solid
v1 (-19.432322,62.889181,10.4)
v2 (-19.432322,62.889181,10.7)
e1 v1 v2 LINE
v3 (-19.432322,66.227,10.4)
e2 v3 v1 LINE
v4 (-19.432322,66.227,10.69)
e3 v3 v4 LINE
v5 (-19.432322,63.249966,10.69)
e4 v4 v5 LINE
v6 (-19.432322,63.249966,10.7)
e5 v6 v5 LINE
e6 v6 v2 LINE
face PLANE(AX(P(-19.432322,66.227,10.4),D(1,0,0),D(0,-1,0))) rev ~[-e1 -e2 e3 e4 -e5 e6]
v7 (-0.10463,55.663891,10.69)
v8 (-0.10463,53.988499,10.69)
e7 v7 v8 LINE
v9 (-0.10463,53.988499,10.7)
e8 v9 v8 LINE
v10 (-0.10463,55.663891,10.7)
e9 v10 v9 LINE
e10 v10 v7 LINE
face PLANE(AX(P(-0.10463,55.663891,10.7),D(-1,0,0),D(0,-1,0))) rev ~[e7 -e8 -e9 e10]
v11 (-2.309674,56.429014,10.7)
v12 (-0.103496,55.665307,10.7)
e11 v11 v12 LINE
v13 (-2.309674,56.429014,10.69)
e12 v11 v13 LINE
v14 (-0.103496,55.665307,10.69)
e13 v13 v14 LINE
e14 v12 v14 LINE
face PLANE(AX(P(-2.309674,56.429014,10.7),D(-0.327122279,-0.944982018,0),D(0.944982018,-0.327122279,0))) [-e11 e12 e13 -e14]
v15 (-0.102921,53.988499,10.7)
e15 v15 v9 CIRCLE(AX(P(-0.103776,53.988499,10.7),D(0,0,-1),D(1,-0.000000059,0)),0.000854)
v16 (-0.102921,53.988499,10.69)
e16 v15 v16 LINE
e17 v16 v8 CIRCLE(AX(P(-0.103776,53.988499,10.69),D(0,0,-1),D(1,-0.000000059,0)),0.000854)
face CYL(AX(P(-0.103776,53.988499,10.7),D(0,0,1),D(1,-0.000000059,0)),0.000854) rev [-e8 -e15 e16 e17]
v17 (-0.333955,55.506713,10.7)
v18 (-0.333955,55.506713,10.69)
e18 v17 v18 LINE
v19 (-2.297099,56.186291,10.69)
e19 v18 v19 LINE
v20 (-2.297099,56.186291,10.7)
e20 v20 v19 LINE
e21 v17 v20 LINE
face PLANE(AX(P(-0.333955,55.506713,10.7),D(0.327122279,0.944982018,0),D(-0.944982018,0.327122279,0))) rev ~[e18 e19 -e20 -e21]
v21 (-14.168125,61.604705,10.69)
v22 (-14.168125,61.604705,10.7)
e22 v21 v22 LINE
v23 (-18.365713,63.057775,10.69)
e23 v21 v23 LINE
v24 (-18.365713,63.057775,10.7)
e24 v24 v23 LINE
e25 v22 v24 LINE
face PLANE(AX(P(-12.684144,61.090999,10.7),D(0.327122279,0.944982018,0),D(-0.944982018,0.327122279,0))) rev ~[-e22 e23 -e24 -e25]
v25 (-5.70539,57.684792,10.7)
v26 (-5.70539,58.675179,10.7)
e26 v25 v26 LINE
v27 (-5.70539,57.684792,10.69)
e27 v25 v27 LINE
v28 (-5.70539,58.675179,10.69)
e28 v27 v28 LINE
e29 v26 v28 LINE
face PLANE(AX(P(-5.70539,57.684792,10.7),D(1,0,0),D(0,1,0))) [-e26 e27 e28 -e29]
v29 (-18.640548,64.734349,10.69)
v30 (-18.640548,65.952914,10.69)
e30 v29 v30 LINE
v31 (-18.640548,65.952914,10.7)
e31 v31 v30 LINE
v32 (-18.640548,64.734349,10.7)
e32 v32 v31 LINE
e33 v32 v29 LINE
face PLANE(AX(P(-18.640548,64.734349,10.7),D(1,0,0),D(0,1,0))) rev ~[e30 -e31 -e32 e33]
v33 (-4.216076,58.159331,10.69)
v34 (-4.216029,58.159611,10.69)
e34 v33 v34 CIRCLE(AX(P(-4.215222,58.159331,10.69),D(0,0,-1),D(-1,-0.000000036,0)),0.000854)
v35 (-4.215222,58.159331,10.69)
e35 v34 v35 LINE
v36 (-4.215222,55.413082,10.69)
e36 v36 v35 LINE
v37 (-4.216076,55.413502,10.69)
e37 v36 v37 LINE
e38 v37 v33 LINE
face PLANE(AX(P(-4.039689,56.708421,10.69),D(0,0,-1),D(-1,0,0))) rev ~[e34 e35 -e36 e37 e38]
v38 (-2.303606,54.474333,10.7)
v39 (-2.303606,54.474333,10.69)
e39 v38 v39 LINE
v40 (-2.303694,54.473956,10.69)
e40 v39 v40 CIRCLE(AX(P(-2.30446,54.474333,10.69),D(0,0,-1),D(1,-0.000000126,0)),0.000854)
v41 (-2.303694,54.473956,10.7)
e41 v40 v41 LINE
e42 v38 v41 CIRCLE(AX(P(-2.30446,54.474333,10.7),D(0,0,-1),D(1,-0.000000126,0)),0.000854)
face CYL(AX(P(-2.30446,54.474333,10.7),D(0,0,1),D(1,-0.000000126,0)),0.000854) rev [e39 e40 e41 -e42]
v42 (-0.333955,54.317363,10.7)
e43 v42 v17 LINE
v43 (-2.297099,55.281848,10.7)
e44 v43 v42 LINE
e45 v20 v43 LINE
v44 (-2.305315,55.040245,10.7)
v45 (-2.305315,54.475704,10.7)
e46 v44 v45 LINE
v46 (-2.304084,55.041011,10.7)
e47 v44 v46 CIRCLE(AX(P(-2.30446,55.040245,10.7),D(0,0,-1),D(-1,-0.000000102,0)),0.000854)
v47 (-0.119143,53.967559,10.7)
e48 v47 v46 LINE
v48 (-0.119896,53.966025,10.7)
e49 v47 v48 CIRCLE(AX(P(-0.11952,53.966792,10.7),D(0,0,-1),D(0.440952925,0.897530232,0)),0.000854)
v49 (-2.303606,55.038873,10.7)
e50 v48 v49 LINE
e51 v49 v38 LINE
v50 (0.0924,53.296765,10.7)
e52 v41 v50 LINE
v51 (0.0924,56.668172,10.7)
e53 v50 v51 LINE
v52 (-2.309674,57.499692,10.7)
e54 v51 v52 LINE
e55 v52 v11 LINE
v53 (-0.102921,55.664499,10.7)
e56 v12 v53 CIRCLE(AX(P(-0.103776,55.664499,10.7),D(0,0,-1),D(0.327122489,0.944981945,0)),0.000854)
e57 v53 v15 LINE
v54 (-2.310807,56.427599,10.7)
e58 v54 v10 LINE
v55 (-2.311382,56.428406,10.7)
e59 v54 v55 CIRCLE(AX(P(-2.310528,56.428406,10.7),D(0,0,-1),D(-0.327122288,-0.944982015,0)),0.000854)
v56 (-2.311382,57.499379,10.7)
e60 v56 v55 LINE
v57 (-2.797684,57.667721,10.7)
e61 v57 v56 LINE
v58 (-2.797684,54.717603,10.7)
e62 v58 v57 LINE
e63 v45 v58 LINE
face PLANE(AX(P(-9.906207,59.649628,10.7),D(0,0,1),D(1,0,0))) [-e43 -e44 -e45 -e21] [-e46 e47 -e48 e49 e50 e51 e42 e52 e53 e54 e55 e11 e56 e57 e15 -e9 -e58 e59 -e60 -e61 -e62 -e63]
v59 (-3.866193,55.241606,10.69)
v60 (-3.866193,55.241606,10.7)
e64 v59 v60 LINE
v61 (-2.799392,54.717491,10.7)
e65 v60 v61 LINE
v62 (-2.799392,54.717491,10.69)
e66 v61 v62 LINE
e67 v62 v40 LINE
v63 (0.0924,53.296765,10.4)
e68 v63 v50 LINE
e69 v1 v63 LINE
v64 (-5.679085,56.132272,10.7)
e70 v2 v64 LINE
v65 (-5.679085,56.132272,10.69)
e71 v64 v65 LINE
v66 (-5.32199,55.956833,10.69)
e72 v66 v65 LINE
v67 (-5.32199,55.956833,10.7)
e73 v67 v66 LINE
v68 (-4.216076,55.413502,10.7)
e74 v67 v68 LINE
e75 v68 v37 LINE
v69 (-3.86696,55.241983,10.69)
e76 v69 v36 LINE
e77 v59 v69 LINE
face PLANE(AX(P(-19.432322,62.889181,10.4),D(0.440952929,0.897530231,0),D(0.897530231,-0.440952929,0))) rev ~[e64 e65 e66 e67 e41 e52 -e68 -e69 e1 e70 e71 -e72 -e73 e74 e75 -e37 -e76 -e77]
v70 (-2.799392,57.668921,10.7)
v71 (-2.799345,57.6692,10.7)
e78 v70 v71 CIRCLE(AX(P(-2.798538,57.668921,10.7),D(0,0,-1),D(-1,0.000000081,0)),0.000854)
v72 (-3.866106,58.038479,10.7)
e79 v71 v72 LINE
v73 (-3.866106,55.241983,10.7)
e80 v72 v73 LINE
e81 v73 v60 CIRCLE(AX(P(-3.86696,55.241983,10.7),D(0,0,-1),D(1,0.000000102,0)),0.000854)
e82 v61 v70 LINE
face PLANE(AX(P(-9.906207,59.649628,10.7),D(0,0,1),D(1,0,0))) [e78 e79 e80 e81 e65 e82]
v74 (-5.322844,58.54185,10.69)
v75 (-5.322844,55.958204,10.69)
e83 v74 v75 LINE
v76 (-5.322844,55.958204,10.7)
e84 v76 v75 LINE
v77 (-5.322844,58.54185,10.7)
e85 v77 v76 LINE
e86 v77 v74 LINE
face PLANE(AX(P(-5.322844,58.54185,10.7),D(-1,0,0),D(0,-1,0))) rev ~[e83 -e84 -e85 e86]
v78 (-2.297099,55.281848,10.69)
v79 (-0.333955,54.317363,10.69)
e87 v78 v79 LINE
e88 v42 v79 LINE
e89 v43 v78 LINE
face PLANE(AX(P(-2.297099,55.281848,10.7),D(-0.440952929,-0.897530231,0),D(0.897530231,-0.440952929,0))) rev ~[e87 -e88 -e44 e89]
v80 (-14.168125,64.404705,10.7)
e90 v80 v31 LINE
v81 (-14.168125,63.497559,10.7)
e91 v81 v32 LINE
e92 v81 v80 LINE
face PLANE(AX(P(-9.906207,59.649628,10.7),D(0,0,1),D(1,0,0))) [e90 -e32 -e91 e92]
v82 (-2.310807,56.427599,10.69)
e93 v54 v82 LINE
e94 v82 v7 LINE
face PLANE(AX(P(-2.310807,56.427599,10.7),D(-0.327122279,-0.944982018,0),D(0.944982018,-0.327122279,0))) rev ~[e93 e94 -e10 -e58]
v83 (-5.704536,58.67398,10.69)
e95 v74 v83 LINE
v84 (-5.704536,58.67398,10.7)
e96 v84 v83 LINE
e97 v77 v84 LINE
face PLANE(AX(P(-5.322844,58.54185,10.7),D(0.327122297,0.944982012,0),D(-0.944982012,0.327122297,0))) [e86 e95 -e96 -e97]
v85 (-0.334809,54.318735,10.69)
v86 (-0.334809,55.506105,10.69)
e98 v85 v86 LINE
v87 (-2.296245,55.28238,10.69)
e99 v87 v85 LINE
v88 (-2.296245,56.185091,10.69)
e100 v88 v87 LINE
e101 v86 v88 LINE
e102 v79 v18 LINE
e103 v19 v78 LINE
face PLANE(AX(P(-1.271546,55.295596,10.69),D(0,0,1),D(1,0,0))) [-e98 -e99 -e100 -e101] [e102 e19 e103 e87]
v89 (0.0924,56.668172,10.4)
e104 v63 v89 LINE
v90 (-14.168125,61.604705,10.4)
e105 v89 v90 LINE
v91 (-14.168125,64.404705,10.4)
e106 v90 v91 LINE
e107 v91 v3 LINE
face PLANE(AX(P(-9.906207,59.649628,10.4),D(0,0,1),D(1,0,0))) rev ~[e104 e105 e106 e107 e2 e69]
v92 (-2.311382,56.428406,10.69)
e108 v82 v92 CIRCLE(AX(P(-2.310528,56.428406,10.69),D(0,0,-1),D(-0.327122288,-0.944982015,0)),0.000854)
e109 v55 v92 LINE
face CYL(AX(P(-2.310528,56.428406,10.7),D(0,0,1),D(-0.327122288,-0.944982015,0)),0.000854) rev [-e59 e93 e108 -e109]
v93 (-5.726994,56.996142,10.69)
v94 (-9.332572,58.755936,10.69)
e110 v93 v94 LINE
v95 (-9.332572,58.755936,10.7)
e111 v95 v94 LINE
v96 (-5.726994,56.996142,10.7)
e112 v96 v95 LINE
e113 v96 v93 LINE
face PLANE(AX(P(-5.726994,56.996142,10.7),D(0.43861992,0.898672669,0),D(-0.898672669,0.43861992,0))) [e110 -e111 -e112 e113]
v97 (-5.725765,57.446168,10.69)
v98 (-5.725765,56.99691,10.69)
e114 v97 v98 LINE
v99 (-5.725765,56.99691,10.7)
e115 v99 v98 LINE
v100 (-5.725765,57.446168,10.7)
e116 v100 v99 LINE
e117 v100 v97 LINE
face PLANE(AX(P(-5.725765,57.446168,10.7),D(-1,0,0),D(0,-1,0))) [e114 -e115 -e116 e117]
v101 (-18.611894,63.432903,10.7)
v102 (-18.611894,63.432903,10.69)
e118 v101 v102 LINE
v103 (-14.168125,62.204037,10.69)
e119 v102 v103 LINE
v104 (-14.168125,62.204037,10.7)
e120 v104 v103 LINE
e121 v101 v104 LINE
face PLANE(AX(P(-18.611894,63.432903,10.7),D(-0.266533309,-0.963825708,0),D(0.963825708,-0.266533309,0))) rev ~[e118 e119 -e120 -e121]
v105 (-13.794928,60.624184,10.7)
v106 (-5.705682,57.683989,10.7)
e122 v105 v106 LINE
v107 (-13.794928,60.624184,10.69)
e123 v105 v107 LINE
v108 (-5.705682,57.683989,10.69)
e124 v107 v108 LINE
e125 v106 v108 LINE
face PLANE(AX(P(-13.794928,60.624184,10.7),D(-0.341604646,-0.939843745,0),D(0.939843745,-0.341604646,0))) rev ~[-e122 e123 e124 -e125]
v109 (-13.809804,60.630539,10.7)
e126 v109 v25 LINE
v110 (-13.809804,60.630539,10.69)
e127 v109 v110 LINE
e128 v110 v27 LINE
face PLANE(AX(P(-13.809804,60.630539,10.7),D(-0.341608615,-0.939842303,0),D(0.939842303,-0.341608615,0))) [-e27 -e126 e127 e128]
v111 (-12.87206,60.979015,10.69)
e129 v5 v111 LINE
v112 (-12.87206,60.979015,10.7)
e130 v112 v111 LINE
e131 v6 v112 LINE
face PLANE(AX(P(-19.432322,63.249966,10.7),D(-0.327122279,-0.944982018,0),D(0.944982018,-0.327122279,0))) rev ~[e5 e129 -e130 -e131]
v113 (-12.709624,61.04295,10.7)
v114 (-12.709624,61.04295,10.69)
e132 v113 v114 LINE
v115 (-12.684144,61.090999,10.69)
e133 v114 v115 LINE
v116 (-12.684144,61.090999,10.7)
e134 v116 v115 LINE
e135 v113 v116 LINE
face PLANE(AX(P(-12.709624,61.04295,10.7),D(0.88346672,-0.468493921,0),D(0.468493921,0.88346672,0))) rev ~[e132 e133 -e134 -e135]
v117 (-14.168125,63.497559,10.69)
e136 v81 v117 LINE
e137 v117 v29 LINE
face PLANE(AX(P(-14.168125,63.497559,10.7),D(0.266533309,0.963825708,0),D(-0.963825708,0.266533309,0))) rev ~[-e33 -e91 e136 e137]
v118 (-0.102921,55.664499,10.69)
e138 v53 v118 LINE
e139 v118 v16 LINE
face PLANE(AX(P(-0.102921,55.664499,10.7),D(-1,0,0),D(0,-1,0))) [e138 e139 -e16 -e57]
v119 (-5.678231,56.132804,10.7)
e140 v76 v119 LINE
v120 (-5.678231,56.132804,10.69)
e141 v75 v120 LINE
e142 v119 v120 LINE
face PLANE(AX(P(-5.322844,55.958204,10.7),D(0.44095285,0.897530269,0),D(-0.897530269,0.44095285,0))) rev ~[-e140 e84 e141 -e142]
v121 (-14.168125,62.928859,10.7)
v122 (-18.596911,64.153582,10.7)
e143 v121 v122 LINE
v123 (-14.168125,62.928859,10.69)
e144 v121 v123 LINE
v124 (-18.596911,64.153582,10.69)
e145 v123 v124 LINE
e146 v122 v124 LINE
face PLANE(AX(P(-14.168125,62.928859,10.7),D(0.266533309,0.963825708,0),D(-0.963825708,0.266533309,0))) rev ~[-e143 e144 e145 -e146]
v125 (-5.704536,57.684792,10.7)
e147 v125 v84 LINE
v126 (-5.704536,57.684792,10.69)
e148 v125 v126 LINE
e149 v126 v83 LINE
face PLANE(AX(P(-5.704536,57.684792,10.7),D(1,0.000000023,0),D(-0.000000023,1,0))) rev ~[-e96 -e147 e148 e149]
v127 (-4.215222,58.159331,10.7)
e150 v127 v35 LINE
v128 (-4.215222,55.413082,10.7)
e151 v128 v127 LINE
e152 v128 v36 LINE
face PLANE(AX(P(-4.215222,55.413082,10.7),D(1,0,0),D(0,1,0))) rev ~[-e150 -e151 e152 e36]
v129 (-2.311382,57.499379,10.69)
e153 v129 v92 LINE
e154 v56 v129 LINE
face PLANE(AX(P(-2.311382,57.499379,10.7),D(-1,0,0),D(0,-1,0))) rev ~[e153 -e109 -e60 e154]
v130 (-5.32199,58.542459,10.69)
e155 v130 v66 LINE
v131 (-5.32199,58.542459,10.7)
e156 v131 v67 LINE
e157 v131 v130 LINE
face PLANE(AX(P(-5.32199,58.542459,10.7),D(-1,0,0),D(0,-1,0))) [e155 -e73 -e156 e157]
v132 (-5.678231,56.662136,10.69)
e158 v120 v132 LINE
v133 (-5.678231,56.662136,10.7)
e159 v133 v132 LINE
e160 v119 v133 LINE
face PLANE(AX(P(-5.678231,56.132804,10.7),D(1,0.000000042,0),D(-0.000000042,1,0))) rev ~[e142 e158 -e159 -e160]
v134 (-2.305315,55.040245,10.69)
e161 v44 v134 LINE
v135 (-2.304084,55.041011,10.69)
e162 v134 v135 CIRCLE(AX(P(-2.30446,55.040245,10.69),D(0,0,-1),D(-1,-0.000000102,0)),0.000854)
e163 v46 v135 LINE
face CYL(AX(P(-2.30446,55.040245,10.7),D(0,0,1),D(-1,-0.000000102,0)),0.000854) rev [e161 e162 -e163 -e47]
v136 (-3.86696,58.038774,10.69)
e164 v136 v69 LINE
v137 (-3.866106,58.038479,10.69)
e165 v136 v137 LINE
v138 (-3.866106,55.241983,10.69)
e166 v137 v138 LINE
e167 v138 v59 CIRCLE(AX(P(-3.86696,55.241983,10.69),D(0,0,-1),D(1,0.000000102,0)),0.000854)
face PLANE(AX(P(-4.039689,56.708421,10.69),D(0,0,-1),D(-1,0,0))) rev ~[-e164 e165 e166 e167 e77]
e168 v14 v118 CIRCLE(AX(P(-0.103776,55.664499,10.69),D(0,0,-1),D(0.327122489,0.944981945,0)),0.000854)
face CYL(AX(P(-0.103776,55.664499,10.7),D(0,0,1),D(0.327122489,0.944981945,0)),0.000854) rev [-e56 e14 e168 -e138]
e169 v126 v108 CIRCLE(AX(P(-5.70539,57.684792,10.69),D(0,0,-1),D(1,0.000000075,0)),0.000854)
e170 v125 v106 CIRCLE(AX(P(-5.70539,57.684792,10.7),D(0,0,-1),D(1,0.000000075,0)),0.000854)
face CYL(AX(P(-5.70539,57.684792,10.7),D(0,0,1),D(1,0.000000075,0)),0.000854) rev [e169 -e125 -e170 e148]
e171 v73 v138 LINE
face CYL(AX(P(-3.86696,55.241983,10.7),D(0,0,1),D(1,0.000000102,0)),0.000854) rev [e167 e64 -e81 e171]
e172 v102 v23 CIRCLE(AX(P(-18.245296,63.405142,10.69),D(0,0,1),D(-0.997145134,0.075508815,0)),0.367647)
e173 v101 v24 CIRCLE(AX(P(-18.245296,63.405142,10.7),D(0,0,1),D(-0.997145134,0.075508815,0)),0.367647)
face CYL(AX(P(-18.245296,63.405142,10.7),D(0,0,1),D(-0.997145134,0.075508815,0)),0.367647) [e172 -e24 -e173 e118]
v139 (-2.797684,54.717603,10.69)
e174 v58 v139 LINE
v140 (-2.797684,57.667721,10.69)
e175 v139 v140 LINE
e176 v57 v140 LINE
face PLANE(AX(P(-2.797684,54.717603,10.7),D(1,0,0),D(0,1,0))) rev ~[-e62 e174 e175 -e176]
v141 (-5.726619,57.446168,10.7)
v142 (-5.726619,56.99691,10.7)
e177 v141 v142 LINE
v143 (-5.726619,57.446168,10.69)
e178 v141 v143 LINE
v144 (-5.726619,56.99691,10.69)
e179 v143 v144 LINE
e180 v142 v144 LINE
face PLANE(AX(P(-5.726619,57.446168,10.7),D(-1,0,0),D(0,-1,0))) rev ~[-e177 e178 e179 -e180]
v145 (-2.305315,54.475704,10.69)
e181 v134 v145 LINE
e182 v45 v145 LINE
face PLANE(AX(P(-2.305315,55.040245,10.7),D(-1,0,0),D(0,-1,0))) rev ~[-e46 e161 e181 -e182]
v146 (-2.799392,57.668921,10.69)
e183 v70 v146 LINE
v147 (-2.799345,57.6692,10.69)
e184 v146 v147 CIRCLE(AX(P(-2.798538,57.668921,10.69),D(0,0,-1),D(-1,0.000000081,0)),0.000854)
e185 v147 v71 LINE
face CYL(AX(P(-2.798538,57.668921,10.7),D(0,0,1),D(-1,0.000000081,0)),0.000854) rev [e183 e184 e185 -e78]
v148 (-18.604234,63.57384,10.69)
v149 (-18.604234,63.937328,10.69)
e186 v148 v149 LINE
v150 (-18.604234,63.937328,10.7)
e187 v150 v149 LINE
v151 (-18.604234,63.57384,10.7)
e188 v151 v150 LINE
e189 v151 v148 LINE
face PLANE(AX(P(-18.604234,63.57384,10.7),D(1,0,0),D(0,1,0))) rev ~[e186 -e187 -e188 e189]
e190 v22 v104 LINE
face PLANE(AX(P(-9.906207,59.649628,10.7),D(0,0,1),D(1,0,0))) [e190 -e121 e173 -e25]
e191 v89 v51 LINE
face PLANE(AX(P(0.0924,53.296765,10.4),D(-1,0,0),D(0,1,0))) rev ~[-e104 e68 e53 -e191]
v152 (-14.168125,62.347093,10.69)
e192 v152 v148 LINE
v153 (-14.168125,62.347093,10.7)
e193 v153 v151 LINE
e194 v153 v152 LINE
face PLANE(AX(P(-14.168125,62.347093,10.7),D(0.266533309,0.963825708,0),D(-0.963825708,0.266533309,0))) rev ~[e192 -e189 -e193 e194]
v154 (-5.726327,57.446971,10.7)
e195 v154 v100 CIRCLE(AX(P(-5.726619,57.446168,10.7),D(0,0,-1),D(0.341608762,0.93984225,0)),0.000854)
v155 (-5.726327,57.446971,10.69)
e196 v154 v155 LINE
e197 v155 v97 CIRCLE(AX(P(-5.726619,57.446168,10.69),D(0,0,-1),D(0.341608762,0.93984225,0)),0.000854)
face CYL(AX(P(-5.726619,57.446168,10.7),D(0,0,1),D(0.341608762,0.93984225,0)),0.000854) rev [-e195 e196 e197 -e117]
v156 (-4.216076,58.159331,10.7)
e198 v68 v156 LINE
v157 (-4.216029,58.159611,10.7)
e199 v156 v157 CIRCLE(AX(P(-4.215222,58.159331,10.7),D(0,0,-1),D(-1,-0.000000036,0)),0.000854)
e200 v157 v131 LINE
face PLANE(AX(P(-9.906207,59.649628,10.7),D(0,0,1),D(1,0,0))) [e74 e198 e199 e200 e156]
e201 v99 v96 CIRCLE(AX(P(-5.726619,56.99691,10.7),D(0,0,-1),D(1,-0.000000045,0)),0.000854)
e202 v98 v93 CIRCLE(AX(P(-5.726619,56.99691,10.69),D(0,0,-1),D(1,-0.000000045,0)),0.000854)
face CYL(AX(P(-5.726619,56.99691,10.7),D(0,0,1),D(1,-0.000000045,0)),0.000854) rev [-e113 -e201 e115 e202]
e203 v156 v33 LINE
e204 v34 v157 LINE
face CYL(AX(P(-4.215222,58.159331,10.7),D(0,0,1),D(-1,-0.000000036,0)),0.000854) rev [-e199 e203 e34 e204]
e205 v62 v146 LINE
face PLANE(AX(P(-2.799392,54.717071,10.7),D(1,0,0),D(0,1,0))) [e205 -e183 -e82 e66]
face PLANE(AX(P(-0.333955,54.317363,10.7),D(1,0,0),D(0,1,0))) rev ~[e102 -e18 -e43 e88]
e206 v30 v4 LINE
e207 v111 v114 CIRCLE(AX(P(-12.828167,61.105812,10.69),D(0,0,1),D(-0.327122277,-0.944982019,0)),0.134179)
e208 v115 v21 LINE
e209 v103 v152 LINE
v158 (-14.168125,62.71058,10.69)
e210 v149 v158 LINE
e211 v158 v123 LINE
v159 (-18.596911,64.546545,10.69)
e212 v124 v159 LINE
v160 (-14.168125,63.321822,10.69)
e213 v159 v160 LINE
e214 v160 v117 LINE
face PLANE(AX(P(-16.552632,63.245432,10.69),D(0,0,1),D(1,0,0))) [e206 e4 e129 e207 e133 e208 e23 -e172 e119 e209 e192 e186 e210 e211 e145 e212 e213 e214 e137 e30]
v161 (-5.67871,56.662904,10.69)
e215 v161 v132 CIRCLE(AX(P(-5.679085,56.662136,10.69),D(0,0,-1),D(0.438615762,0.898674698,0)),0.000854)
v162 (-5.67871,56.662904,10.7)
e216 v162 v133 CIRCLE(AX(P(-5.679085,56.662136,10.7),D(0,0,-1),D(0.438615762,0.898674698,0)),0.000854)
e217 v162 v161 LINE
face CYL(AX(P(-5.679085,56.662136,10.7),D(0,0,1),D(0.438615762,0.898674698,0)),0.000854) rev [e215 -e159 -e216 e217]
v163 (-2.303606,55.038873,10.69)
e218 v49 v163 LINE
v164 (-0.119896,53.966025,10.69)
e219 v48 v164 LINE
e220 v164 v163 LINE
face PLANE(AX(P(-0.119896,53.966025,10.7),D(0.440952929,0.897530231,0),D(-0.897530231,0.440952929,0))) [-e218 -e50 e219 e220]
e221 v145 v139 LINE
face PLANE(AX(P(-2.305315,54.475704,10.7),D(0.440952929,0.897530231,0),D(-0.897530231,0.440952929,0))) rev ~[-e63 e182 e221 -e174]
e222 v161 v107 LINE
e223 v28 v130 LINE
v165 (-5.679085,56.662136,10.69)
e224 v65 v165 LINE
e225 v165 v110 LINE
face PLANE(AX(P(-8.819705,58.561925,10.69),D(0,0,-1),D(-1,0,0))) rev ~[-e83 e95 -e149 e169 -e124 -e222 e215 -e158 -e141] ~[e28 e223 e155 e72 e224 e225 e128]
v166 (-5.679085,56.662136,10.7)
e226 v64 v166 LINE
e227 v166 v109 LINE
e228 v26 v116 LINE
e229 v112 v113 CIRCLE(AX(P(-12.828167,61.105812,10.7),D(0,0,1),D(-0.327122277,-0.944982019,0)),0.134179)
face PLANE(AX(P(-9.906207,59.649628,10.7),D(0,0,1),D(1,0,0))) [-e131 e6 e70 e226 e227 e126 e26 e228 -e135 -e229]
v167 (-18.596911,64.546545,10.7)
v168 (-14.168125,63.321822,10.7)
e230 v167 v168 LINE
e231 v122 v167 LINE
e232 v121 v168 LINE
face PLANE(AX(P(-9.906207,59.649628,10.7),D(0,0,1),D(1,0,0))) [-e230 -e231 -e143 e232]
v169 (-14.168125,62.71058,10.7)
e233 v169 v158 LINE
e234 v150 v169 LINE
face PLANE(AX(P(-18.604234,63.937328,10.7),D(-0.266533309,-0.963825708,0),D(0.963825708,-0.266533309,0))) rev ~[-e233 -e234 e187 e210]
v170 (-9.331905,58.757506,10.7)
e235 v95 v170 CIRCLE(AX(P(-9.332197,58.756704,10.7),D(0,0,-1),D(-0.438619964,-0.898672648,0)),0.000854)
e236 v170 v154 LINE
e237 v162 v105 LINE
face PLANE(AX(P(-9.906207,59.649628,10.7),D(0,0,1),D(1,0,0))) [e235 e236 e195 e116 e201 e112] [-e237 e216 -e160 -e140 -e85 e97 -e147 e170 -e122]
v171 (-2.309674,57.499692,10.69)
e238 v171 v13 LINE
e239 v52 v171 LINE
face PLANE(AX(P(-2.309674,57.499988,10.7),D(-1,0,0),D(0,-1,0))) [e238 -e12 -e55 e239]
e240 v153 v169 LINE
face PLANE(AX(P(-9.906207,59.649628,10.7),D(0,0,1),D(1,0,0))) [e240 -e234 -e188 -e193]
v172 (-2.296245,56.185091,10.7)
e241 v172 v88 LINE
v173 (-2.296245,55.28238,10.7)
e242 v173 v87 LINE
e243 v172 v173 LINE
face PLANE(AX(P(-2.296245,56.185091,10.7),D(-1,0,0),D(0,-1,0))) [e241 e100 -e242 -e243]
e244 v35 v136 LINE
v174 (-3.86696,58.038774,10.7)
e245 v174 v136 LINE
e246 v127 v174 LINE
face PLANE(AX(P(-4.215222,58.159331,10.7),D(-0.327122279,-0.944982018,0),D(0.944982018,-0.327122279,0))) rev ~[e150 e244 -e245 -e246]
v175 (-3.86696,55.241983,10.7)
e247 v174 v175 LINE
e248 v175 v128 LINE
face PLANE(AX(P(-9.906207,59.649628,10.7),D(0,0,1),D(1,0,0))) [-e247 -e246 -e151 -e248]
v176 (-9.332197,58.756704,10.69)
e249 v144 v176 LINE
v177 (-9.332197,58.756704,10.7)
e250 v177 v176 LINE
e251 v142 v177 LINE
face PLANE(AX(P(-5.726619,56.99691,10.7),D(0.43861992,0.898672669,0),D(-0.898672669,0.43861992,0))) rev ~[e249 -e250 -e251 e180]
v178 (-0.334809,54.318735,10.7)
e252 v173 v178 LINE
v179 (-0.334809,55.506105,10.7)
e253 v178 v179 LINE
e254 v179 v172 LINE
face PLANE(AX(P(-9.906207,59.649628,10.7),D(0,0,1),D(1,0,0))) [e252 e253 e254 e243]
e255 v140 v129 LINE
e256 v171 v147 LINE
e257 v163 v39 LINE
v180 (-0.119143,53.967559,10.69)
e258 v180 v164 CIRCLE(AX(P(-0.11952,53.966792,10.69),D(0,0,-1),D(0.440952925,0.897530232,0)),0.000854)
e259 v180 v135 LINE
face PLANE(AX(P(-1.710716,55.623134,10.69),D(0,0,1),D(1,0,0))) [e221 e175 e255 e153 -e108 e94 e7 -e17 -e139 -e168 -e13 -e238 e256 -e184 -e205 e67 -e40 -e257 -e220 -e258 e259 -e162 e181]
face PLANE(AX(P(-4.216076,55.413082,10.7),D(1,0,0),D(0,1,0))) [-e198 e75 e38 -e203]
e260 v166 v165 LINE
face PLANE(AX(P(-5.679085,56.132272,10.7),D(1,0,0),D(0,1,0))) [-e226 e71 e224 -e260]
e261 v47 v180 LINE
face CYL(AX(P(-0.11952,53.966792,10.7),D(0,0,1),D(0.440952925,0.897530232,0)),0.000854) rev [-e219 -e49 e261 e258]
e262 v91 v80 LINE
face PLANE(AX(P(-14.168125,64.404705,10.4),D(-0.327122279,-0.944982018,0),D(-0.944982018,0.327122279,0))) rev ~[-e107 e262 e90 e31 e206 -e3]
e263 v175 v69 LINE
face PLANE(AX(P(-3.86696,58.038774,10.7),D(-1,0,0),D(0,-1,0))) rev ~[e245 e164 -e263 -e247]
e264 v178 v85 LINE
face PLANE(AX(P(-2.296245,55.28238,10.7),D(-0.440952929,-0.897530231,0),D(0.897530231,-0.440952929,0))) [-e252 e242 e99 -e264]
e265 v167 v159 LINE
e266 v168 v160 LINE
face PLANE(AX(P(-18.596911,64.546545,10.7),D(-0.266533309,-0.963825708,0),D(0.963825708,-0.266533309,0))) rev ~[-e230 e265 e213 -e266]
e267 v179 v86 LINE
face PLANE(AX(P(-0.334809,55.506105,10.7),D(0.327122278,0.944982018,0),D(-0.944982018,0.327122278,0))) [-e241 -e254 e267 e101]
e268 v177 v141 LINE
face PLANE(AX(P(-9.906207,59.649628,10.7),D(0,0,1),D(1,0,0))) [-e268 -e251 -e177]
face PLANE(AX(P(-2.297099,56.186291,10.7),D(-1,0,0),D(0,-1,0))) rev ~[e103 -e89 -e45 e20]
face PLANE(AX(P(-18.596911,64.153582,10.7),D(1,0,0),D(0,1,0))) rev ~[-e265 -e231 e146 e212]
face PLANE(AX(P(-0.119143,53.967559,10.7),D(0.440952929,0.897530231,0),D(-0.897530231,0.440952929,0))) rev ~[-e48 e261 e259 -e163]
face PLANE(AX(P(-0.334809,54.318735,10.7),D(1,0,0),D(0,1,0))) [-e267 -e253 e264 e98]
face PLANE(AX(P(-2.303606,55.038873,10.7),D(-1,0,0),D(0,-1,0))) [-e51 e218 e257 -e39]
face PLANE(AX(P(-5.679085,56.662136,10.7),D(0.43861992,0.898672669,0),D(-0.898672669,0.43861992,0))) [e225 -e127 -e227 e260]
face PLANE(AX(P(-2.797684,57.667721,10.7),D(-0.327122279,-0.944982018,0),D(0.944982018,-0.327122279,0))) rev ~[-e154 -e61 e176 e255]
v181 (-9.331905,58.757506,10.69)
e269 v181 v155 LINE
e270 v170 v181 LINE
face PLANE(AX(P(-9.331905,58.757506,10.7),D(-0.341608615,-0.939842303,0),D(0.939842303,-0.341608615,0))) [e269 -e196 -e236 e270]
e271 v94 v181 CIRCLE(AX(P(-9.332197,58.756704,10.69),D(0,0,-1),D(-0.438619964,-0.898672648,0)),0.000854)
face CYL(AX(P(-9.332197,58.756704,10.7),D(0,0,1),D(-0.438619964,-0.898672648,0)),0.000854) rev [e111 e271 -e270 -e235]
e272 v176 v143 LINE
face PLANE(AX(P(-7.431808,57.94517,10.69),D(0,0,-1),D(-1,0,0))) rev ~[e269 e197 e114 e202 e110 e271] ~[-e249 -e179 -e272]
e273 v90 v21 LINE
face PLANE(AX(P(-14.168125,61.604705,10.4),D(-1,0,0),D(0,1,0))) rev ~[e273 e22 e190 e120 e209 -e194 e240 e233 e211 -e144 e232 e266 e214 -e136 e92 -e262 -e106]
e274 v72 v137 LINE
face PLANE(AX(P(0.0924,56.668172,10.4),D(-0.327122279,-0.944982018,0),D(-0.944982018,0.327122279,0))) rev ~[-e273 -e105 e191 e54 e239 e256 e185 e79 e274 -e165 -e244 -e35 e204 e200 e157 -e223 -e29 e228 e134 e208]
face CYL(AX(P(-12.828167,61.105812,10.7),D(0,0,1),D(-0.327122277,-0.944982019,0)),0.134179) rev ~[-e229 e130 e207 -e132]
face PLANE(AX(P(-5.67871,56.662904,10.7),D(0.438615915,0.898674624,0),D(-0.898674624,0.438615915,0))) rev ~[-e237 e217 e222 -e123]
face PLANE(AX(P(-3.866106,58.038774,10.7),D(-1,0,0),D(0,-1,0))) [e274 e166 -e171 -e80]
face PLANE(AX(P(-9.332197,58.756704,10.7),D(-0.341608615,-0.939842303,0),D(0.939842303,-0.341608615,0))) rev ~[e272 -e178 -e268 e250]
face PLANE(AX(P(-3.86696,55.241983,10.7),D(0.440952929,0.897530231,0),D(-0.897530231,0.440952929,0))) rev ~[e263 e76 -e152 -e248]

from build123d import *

# Parameters (mm, degrees)
PAD004_DEPTH    = 0.3
POCKET012_DEPTH = 0.01
POCKET013_DEPTH = 0.01


with BuildPart() as part:
    # Sketch014 (on Face1 of Binder004) → Pad004 (new body)
    with BuildSketch(Plane.XY.offset(10.4)):
        Polygon((-19.4323216564, 66.2270001367), (-19.4323216564, 62.889181066), (0.0923997574, 53.2967653506), (0.0923997574, 56.6681716802), (-14.1681248714, 61.6047050946), (-14.1681248714, 64.4047050946), align=None)
    extrude(amount=PAD004_DEPTH)

    # Sketch015 (on Face8 of Pad004) → Pocket012 (cut)
    with BuildSketch(Plane.XY.offset(10.7)):
        Polygon((-5.32199, 58.5424586824), (-5.32199, 55.9568328772), (-5.679085, 56.1322721891), (-5.679085, 56.662136), (-13.809804, 60.630539), (-5.70539, 57.684792), (-5.70539, 58.6751793894), align=None)
        with BuildLine():
            ThreePointArc((-5.7045356509, 57.6847918915), (-5.7048998518, 57.6840920792), (-5.7056819786, 57.6839888464))
            Line((-13.794928, 60.624184), (-5.7056819786, 57.6839888464))
            Line((-5.6787103299, 56.6629035278), (-13.794928, 60.624184))
            ThreePointArc((-5.6787103299, 56.6629035278), (-5.6783605329, 56.6625884398), (-5.6782307979, 56.6621358835))
            Line((-5.6782307759, 56.1328043107), (-5.6782307979, 56.6621358835))
            Line((-5.3228443024, 55.9582044294), (-5.6782307759, 56.1328043107))
            Line((-5.3228443024, 58.5418503733), (-5.3228443024, 55.9582044294))
            Line((-5.3228443024, 58.5418503733), (-5.704535674, 58.6739796165))
            Line((-5.7045356509, 57.6847918915), (-5.704535674, 58.6739796165))
        make_face(mode=Mode.SUBTRACT)
        Polygon((-2.2970993786, 56.1862906865), (-2.2970993786, 55.2818480058), (-0.333954854, 54.3173631361), (-0.333954854, 55.5067134062), align=None)
        Polygon((-0.3348091564, 55.5061050972), (-2.2962450762, 56.1850909136), (-2.2962450762, 55.2823801275), (-0.3348091564, 54.3187346883), align=None, mode=Mode.SUBTRACT)
        with BuildLine():
            Line((-4.2160763024, 55.4130822888), (-4.2160763024, 58.1593313181))
            ThreePointArc((-4.2160763024, 58.1593313181), (-4.215717524, 58.1600272266), (-4.2149425386, 58.1601386186))
            Line((-4.2149425386, 58.1601386186), (-3.8666805386, 58.0395815532))
            ThreePointArc((-3.8666805386, 58.0395815532), (-3.8662640915, 58.0392697768), (-3.8661056976, 58.0387742527))
            Line((-3.8661056976, 58.0387742527), (-3.8661056976, 55.2419825937))
            ThreePointArc((-3.8661056976, 55.2419825937), (-3.8665083304, 55.2412574542), (-3.8673367072, 55.2412158314))
            Line((-3.8673367072, 55.2412158314), (-4.2155987072, 55.4123155266))
            ThreePointArc((-4.2155987072, 55.4123155266), (-4.2159471395, 55.4126306192), (-4.2160763024, 55.4130822888))
        make_face()
        Polygon((-4.215222, 58.1593313181), (-3.86696, 58.0387742527), (-3.86696, 55.2419825937), (-4.215222, 55.4130822888), align=None, mode=Mode.SUBTRACT)
        with BuildLine():
            Line((-2.3108072707, 56.4275985411), (-0.1046298954, 55.663891131))
            Line((-0.1046298954, 55.663891131), (-0.1046298954, 53.988499))
            ThreePointArc((-0.1029212905, 53.988499), (-0.103775593, 53.9876446976), (-0.1046298954, 53.988499))
            Line((-0.1029212905, 55.66449944), (-0.1029212905, 53.988499))
            ThreePointArc((-0.1034961316, 55.6653067405), (-0.1030796845, 55.664994964), (-0.1029212905, 55.66449944))
            Line((-2.3096735069, 56.4290141506), (-0.1034961316, 55.6653067405))
            Line((-2.3096735069, 57.4999876571), (-2.3096735069, 56.4290141506))
            ThreePointArc((-2.310248348, 57.5007949576), (-2.3098319009, 57.5004831812), (-2.3096735069, 57.4999876571))
            Line((-2.7982585386, 57.6697283366), (-2.310248348, 57.5007949576))
            ThreePointArc((-2.7993923024, 57.6689210362), (-2.799033524, 57.6696169446), (-2.7982585386, 57.6697283366))
            Line((-2.7993923024, 54.7170712382), (-2.7993923024, 57.6689210362))
            ThreePointArc((-2.7989147072, 54.7163044759), (-2.7992631395, 54.7166195686), (-2.7993923024, 54.7170712382))
            Line((-2.3048370768, 54.4735661584), (-2.7989147072, 54.7163044759))
            ThreePointArc((-2.3036060672, 54.4743329206), (-2.3040087001, 54.4736077812), (-2.3048370768, 54.4735661584))
            Line((-2.3036060672, 55.0388730164), (-2.3036060672, 54.4743329206))
            Line((-0.1198963375, 53.9660253641), (-2.3036060672, 55.0388730164))
            ThreePointArc((-0.1191429232, 53.9675588887), (-0.1187528681, 53.9664154192), (-0.1198963375, 53.9660253641))
            Line((-0.1191429232, 53.9675588887), (-2.3040836625, 55.0410113309))
            ThreePointArc((-2.3053146721, 55.0402445686), (-2.3049120393, 55.0409697081), (-2.3040836625, 55.0410113309))
            Line((-2.3053146721, 55.0402445686), (-2.3053146721, 54.4757044729))
            Line((-2.3053146721, 54.4757044729), (-2.7976836976, 54.7176033598))
            Line((-2.7976836976, 54.7176033598), (-2.7976836976, 57.6677212633))
            Line((-2.7976836976, 57.6677212633), (-2.3113821118, 57.4993793481))
            Line((-2.3113821118, 57.4993793481), (-2.3113821118, 56.4284058416))
            ThreePointArc((-2.3108072707, 56.4275985411), (-2.3112237178, 56.4279103175), (-2.3113821118, 56.4284058416))
        make_face()
        with BuildLine():
            Line((-9.3319051629, 58.7575064225), (-5.7263271629, 57.4469711295))
            ThreePointArc((-5.7263271629, 57.4469711295), (-5.7259193037, 57.4466583808), (-5.7257646976, 57.4461682199))
            Line((-5.7257646976, 57.4461682199), (-5.7257646976, 56.99691))
            ThreePointArc((-5.7257646976, 56.99691), (-5.726166389, 56.9961854478), (-5.7269937141, 56.9961422617))
            Line((-5.7269937141, 56.9961422617), (-9.3325717141, 58.7559357747))
            ThreePointArc((-9.3325717141, 58.7559357747), (-9.3329834164, 58.7570372522), (-9.3319051629, 58.7575064225))
        make_face()
        Polygon((-5.726619, 57.4461682199), (-5.726619, 56.99691), (-9.332197, 58.756703513), align=None, mode=Mode.SUBTRACT)
    extrude(amount=-POCKET012_DEPTH, mode=Mode.SUBTRACT)

    # Sketch016 (on Face4 of Pocket012) → Pocket013 (cut)
    with BuildSketch(Plane.XY.offset(10.7)):
        with BuildLine():
            Line((-19.4323216564, 63.2499658189), (-12.8720600429, 60.9790149594))
            ThreePointArc((-12.8720600429, 60.9790149594), (-12.7790236517, 60.9809560026), (-12.7096240402, 61.042949806))
            Line((-12.7096240402, 61.042949806), (-12.6841440979, 61.0909988415))
            Line((-12.6841440979, 61.0909988415), (-18.3657134505, 63.0577747972))
            ThreePointArc((-18.6118935069, 63.4329028915), (-18.5526656913, 63.2034288852), (-18.3657134505, 63.0577747972))
            Line((-18.6118935069, 63.4329028915), (-14.1681248714, 62.2040371833))
            Line((-14.1681248714, 62.2040371833), (-14.1681248714, 62.3470925882))
            Line((-14.1681248714, 62.3470925882), (-18.6042335567, 63.5738400381))
            Line((-18.6042335567, 63.5738400381), (-18.6042335567, 63.9373279196))
            Line((-18.6042335567, 63.9373279196), (-14.1681248714, 62.7105804697))
            Line((-14.1681248714, 62.7105804697), (-14.1681248714, 62.9288591633))
            Line((-14.1681248714, 62.9288591633), (-18.5969110965, 64.1535816832))
            Line((-18.5969110965, 64.1535816832), (-18.5969110965, 64.5465445194))
            Line((-18.5969110965, 64.5465445194), (-14.1681248714, 63.3218219995))
            Line((-14.1681248714, 63.3218219995), (-14.1681248714, 63.497559))
            Line((-14.1681248714, 63.497559), (-18.6405480925, 64.7343487566))
            Line((-18.6405480925, 64.7343487566), (-18.6405480925, 65.9529136808))
            Line((-18.6405480925, 65.9529136808), (-19.432322, 66.227))
            Line((-19.432322, 66.227), (-19.4323216564, 63.2499658189))
        make_face()
    extrude(amount=-POCKET013_DEPTH, mode=Mode.SUBTRACT)


solid = part.part
